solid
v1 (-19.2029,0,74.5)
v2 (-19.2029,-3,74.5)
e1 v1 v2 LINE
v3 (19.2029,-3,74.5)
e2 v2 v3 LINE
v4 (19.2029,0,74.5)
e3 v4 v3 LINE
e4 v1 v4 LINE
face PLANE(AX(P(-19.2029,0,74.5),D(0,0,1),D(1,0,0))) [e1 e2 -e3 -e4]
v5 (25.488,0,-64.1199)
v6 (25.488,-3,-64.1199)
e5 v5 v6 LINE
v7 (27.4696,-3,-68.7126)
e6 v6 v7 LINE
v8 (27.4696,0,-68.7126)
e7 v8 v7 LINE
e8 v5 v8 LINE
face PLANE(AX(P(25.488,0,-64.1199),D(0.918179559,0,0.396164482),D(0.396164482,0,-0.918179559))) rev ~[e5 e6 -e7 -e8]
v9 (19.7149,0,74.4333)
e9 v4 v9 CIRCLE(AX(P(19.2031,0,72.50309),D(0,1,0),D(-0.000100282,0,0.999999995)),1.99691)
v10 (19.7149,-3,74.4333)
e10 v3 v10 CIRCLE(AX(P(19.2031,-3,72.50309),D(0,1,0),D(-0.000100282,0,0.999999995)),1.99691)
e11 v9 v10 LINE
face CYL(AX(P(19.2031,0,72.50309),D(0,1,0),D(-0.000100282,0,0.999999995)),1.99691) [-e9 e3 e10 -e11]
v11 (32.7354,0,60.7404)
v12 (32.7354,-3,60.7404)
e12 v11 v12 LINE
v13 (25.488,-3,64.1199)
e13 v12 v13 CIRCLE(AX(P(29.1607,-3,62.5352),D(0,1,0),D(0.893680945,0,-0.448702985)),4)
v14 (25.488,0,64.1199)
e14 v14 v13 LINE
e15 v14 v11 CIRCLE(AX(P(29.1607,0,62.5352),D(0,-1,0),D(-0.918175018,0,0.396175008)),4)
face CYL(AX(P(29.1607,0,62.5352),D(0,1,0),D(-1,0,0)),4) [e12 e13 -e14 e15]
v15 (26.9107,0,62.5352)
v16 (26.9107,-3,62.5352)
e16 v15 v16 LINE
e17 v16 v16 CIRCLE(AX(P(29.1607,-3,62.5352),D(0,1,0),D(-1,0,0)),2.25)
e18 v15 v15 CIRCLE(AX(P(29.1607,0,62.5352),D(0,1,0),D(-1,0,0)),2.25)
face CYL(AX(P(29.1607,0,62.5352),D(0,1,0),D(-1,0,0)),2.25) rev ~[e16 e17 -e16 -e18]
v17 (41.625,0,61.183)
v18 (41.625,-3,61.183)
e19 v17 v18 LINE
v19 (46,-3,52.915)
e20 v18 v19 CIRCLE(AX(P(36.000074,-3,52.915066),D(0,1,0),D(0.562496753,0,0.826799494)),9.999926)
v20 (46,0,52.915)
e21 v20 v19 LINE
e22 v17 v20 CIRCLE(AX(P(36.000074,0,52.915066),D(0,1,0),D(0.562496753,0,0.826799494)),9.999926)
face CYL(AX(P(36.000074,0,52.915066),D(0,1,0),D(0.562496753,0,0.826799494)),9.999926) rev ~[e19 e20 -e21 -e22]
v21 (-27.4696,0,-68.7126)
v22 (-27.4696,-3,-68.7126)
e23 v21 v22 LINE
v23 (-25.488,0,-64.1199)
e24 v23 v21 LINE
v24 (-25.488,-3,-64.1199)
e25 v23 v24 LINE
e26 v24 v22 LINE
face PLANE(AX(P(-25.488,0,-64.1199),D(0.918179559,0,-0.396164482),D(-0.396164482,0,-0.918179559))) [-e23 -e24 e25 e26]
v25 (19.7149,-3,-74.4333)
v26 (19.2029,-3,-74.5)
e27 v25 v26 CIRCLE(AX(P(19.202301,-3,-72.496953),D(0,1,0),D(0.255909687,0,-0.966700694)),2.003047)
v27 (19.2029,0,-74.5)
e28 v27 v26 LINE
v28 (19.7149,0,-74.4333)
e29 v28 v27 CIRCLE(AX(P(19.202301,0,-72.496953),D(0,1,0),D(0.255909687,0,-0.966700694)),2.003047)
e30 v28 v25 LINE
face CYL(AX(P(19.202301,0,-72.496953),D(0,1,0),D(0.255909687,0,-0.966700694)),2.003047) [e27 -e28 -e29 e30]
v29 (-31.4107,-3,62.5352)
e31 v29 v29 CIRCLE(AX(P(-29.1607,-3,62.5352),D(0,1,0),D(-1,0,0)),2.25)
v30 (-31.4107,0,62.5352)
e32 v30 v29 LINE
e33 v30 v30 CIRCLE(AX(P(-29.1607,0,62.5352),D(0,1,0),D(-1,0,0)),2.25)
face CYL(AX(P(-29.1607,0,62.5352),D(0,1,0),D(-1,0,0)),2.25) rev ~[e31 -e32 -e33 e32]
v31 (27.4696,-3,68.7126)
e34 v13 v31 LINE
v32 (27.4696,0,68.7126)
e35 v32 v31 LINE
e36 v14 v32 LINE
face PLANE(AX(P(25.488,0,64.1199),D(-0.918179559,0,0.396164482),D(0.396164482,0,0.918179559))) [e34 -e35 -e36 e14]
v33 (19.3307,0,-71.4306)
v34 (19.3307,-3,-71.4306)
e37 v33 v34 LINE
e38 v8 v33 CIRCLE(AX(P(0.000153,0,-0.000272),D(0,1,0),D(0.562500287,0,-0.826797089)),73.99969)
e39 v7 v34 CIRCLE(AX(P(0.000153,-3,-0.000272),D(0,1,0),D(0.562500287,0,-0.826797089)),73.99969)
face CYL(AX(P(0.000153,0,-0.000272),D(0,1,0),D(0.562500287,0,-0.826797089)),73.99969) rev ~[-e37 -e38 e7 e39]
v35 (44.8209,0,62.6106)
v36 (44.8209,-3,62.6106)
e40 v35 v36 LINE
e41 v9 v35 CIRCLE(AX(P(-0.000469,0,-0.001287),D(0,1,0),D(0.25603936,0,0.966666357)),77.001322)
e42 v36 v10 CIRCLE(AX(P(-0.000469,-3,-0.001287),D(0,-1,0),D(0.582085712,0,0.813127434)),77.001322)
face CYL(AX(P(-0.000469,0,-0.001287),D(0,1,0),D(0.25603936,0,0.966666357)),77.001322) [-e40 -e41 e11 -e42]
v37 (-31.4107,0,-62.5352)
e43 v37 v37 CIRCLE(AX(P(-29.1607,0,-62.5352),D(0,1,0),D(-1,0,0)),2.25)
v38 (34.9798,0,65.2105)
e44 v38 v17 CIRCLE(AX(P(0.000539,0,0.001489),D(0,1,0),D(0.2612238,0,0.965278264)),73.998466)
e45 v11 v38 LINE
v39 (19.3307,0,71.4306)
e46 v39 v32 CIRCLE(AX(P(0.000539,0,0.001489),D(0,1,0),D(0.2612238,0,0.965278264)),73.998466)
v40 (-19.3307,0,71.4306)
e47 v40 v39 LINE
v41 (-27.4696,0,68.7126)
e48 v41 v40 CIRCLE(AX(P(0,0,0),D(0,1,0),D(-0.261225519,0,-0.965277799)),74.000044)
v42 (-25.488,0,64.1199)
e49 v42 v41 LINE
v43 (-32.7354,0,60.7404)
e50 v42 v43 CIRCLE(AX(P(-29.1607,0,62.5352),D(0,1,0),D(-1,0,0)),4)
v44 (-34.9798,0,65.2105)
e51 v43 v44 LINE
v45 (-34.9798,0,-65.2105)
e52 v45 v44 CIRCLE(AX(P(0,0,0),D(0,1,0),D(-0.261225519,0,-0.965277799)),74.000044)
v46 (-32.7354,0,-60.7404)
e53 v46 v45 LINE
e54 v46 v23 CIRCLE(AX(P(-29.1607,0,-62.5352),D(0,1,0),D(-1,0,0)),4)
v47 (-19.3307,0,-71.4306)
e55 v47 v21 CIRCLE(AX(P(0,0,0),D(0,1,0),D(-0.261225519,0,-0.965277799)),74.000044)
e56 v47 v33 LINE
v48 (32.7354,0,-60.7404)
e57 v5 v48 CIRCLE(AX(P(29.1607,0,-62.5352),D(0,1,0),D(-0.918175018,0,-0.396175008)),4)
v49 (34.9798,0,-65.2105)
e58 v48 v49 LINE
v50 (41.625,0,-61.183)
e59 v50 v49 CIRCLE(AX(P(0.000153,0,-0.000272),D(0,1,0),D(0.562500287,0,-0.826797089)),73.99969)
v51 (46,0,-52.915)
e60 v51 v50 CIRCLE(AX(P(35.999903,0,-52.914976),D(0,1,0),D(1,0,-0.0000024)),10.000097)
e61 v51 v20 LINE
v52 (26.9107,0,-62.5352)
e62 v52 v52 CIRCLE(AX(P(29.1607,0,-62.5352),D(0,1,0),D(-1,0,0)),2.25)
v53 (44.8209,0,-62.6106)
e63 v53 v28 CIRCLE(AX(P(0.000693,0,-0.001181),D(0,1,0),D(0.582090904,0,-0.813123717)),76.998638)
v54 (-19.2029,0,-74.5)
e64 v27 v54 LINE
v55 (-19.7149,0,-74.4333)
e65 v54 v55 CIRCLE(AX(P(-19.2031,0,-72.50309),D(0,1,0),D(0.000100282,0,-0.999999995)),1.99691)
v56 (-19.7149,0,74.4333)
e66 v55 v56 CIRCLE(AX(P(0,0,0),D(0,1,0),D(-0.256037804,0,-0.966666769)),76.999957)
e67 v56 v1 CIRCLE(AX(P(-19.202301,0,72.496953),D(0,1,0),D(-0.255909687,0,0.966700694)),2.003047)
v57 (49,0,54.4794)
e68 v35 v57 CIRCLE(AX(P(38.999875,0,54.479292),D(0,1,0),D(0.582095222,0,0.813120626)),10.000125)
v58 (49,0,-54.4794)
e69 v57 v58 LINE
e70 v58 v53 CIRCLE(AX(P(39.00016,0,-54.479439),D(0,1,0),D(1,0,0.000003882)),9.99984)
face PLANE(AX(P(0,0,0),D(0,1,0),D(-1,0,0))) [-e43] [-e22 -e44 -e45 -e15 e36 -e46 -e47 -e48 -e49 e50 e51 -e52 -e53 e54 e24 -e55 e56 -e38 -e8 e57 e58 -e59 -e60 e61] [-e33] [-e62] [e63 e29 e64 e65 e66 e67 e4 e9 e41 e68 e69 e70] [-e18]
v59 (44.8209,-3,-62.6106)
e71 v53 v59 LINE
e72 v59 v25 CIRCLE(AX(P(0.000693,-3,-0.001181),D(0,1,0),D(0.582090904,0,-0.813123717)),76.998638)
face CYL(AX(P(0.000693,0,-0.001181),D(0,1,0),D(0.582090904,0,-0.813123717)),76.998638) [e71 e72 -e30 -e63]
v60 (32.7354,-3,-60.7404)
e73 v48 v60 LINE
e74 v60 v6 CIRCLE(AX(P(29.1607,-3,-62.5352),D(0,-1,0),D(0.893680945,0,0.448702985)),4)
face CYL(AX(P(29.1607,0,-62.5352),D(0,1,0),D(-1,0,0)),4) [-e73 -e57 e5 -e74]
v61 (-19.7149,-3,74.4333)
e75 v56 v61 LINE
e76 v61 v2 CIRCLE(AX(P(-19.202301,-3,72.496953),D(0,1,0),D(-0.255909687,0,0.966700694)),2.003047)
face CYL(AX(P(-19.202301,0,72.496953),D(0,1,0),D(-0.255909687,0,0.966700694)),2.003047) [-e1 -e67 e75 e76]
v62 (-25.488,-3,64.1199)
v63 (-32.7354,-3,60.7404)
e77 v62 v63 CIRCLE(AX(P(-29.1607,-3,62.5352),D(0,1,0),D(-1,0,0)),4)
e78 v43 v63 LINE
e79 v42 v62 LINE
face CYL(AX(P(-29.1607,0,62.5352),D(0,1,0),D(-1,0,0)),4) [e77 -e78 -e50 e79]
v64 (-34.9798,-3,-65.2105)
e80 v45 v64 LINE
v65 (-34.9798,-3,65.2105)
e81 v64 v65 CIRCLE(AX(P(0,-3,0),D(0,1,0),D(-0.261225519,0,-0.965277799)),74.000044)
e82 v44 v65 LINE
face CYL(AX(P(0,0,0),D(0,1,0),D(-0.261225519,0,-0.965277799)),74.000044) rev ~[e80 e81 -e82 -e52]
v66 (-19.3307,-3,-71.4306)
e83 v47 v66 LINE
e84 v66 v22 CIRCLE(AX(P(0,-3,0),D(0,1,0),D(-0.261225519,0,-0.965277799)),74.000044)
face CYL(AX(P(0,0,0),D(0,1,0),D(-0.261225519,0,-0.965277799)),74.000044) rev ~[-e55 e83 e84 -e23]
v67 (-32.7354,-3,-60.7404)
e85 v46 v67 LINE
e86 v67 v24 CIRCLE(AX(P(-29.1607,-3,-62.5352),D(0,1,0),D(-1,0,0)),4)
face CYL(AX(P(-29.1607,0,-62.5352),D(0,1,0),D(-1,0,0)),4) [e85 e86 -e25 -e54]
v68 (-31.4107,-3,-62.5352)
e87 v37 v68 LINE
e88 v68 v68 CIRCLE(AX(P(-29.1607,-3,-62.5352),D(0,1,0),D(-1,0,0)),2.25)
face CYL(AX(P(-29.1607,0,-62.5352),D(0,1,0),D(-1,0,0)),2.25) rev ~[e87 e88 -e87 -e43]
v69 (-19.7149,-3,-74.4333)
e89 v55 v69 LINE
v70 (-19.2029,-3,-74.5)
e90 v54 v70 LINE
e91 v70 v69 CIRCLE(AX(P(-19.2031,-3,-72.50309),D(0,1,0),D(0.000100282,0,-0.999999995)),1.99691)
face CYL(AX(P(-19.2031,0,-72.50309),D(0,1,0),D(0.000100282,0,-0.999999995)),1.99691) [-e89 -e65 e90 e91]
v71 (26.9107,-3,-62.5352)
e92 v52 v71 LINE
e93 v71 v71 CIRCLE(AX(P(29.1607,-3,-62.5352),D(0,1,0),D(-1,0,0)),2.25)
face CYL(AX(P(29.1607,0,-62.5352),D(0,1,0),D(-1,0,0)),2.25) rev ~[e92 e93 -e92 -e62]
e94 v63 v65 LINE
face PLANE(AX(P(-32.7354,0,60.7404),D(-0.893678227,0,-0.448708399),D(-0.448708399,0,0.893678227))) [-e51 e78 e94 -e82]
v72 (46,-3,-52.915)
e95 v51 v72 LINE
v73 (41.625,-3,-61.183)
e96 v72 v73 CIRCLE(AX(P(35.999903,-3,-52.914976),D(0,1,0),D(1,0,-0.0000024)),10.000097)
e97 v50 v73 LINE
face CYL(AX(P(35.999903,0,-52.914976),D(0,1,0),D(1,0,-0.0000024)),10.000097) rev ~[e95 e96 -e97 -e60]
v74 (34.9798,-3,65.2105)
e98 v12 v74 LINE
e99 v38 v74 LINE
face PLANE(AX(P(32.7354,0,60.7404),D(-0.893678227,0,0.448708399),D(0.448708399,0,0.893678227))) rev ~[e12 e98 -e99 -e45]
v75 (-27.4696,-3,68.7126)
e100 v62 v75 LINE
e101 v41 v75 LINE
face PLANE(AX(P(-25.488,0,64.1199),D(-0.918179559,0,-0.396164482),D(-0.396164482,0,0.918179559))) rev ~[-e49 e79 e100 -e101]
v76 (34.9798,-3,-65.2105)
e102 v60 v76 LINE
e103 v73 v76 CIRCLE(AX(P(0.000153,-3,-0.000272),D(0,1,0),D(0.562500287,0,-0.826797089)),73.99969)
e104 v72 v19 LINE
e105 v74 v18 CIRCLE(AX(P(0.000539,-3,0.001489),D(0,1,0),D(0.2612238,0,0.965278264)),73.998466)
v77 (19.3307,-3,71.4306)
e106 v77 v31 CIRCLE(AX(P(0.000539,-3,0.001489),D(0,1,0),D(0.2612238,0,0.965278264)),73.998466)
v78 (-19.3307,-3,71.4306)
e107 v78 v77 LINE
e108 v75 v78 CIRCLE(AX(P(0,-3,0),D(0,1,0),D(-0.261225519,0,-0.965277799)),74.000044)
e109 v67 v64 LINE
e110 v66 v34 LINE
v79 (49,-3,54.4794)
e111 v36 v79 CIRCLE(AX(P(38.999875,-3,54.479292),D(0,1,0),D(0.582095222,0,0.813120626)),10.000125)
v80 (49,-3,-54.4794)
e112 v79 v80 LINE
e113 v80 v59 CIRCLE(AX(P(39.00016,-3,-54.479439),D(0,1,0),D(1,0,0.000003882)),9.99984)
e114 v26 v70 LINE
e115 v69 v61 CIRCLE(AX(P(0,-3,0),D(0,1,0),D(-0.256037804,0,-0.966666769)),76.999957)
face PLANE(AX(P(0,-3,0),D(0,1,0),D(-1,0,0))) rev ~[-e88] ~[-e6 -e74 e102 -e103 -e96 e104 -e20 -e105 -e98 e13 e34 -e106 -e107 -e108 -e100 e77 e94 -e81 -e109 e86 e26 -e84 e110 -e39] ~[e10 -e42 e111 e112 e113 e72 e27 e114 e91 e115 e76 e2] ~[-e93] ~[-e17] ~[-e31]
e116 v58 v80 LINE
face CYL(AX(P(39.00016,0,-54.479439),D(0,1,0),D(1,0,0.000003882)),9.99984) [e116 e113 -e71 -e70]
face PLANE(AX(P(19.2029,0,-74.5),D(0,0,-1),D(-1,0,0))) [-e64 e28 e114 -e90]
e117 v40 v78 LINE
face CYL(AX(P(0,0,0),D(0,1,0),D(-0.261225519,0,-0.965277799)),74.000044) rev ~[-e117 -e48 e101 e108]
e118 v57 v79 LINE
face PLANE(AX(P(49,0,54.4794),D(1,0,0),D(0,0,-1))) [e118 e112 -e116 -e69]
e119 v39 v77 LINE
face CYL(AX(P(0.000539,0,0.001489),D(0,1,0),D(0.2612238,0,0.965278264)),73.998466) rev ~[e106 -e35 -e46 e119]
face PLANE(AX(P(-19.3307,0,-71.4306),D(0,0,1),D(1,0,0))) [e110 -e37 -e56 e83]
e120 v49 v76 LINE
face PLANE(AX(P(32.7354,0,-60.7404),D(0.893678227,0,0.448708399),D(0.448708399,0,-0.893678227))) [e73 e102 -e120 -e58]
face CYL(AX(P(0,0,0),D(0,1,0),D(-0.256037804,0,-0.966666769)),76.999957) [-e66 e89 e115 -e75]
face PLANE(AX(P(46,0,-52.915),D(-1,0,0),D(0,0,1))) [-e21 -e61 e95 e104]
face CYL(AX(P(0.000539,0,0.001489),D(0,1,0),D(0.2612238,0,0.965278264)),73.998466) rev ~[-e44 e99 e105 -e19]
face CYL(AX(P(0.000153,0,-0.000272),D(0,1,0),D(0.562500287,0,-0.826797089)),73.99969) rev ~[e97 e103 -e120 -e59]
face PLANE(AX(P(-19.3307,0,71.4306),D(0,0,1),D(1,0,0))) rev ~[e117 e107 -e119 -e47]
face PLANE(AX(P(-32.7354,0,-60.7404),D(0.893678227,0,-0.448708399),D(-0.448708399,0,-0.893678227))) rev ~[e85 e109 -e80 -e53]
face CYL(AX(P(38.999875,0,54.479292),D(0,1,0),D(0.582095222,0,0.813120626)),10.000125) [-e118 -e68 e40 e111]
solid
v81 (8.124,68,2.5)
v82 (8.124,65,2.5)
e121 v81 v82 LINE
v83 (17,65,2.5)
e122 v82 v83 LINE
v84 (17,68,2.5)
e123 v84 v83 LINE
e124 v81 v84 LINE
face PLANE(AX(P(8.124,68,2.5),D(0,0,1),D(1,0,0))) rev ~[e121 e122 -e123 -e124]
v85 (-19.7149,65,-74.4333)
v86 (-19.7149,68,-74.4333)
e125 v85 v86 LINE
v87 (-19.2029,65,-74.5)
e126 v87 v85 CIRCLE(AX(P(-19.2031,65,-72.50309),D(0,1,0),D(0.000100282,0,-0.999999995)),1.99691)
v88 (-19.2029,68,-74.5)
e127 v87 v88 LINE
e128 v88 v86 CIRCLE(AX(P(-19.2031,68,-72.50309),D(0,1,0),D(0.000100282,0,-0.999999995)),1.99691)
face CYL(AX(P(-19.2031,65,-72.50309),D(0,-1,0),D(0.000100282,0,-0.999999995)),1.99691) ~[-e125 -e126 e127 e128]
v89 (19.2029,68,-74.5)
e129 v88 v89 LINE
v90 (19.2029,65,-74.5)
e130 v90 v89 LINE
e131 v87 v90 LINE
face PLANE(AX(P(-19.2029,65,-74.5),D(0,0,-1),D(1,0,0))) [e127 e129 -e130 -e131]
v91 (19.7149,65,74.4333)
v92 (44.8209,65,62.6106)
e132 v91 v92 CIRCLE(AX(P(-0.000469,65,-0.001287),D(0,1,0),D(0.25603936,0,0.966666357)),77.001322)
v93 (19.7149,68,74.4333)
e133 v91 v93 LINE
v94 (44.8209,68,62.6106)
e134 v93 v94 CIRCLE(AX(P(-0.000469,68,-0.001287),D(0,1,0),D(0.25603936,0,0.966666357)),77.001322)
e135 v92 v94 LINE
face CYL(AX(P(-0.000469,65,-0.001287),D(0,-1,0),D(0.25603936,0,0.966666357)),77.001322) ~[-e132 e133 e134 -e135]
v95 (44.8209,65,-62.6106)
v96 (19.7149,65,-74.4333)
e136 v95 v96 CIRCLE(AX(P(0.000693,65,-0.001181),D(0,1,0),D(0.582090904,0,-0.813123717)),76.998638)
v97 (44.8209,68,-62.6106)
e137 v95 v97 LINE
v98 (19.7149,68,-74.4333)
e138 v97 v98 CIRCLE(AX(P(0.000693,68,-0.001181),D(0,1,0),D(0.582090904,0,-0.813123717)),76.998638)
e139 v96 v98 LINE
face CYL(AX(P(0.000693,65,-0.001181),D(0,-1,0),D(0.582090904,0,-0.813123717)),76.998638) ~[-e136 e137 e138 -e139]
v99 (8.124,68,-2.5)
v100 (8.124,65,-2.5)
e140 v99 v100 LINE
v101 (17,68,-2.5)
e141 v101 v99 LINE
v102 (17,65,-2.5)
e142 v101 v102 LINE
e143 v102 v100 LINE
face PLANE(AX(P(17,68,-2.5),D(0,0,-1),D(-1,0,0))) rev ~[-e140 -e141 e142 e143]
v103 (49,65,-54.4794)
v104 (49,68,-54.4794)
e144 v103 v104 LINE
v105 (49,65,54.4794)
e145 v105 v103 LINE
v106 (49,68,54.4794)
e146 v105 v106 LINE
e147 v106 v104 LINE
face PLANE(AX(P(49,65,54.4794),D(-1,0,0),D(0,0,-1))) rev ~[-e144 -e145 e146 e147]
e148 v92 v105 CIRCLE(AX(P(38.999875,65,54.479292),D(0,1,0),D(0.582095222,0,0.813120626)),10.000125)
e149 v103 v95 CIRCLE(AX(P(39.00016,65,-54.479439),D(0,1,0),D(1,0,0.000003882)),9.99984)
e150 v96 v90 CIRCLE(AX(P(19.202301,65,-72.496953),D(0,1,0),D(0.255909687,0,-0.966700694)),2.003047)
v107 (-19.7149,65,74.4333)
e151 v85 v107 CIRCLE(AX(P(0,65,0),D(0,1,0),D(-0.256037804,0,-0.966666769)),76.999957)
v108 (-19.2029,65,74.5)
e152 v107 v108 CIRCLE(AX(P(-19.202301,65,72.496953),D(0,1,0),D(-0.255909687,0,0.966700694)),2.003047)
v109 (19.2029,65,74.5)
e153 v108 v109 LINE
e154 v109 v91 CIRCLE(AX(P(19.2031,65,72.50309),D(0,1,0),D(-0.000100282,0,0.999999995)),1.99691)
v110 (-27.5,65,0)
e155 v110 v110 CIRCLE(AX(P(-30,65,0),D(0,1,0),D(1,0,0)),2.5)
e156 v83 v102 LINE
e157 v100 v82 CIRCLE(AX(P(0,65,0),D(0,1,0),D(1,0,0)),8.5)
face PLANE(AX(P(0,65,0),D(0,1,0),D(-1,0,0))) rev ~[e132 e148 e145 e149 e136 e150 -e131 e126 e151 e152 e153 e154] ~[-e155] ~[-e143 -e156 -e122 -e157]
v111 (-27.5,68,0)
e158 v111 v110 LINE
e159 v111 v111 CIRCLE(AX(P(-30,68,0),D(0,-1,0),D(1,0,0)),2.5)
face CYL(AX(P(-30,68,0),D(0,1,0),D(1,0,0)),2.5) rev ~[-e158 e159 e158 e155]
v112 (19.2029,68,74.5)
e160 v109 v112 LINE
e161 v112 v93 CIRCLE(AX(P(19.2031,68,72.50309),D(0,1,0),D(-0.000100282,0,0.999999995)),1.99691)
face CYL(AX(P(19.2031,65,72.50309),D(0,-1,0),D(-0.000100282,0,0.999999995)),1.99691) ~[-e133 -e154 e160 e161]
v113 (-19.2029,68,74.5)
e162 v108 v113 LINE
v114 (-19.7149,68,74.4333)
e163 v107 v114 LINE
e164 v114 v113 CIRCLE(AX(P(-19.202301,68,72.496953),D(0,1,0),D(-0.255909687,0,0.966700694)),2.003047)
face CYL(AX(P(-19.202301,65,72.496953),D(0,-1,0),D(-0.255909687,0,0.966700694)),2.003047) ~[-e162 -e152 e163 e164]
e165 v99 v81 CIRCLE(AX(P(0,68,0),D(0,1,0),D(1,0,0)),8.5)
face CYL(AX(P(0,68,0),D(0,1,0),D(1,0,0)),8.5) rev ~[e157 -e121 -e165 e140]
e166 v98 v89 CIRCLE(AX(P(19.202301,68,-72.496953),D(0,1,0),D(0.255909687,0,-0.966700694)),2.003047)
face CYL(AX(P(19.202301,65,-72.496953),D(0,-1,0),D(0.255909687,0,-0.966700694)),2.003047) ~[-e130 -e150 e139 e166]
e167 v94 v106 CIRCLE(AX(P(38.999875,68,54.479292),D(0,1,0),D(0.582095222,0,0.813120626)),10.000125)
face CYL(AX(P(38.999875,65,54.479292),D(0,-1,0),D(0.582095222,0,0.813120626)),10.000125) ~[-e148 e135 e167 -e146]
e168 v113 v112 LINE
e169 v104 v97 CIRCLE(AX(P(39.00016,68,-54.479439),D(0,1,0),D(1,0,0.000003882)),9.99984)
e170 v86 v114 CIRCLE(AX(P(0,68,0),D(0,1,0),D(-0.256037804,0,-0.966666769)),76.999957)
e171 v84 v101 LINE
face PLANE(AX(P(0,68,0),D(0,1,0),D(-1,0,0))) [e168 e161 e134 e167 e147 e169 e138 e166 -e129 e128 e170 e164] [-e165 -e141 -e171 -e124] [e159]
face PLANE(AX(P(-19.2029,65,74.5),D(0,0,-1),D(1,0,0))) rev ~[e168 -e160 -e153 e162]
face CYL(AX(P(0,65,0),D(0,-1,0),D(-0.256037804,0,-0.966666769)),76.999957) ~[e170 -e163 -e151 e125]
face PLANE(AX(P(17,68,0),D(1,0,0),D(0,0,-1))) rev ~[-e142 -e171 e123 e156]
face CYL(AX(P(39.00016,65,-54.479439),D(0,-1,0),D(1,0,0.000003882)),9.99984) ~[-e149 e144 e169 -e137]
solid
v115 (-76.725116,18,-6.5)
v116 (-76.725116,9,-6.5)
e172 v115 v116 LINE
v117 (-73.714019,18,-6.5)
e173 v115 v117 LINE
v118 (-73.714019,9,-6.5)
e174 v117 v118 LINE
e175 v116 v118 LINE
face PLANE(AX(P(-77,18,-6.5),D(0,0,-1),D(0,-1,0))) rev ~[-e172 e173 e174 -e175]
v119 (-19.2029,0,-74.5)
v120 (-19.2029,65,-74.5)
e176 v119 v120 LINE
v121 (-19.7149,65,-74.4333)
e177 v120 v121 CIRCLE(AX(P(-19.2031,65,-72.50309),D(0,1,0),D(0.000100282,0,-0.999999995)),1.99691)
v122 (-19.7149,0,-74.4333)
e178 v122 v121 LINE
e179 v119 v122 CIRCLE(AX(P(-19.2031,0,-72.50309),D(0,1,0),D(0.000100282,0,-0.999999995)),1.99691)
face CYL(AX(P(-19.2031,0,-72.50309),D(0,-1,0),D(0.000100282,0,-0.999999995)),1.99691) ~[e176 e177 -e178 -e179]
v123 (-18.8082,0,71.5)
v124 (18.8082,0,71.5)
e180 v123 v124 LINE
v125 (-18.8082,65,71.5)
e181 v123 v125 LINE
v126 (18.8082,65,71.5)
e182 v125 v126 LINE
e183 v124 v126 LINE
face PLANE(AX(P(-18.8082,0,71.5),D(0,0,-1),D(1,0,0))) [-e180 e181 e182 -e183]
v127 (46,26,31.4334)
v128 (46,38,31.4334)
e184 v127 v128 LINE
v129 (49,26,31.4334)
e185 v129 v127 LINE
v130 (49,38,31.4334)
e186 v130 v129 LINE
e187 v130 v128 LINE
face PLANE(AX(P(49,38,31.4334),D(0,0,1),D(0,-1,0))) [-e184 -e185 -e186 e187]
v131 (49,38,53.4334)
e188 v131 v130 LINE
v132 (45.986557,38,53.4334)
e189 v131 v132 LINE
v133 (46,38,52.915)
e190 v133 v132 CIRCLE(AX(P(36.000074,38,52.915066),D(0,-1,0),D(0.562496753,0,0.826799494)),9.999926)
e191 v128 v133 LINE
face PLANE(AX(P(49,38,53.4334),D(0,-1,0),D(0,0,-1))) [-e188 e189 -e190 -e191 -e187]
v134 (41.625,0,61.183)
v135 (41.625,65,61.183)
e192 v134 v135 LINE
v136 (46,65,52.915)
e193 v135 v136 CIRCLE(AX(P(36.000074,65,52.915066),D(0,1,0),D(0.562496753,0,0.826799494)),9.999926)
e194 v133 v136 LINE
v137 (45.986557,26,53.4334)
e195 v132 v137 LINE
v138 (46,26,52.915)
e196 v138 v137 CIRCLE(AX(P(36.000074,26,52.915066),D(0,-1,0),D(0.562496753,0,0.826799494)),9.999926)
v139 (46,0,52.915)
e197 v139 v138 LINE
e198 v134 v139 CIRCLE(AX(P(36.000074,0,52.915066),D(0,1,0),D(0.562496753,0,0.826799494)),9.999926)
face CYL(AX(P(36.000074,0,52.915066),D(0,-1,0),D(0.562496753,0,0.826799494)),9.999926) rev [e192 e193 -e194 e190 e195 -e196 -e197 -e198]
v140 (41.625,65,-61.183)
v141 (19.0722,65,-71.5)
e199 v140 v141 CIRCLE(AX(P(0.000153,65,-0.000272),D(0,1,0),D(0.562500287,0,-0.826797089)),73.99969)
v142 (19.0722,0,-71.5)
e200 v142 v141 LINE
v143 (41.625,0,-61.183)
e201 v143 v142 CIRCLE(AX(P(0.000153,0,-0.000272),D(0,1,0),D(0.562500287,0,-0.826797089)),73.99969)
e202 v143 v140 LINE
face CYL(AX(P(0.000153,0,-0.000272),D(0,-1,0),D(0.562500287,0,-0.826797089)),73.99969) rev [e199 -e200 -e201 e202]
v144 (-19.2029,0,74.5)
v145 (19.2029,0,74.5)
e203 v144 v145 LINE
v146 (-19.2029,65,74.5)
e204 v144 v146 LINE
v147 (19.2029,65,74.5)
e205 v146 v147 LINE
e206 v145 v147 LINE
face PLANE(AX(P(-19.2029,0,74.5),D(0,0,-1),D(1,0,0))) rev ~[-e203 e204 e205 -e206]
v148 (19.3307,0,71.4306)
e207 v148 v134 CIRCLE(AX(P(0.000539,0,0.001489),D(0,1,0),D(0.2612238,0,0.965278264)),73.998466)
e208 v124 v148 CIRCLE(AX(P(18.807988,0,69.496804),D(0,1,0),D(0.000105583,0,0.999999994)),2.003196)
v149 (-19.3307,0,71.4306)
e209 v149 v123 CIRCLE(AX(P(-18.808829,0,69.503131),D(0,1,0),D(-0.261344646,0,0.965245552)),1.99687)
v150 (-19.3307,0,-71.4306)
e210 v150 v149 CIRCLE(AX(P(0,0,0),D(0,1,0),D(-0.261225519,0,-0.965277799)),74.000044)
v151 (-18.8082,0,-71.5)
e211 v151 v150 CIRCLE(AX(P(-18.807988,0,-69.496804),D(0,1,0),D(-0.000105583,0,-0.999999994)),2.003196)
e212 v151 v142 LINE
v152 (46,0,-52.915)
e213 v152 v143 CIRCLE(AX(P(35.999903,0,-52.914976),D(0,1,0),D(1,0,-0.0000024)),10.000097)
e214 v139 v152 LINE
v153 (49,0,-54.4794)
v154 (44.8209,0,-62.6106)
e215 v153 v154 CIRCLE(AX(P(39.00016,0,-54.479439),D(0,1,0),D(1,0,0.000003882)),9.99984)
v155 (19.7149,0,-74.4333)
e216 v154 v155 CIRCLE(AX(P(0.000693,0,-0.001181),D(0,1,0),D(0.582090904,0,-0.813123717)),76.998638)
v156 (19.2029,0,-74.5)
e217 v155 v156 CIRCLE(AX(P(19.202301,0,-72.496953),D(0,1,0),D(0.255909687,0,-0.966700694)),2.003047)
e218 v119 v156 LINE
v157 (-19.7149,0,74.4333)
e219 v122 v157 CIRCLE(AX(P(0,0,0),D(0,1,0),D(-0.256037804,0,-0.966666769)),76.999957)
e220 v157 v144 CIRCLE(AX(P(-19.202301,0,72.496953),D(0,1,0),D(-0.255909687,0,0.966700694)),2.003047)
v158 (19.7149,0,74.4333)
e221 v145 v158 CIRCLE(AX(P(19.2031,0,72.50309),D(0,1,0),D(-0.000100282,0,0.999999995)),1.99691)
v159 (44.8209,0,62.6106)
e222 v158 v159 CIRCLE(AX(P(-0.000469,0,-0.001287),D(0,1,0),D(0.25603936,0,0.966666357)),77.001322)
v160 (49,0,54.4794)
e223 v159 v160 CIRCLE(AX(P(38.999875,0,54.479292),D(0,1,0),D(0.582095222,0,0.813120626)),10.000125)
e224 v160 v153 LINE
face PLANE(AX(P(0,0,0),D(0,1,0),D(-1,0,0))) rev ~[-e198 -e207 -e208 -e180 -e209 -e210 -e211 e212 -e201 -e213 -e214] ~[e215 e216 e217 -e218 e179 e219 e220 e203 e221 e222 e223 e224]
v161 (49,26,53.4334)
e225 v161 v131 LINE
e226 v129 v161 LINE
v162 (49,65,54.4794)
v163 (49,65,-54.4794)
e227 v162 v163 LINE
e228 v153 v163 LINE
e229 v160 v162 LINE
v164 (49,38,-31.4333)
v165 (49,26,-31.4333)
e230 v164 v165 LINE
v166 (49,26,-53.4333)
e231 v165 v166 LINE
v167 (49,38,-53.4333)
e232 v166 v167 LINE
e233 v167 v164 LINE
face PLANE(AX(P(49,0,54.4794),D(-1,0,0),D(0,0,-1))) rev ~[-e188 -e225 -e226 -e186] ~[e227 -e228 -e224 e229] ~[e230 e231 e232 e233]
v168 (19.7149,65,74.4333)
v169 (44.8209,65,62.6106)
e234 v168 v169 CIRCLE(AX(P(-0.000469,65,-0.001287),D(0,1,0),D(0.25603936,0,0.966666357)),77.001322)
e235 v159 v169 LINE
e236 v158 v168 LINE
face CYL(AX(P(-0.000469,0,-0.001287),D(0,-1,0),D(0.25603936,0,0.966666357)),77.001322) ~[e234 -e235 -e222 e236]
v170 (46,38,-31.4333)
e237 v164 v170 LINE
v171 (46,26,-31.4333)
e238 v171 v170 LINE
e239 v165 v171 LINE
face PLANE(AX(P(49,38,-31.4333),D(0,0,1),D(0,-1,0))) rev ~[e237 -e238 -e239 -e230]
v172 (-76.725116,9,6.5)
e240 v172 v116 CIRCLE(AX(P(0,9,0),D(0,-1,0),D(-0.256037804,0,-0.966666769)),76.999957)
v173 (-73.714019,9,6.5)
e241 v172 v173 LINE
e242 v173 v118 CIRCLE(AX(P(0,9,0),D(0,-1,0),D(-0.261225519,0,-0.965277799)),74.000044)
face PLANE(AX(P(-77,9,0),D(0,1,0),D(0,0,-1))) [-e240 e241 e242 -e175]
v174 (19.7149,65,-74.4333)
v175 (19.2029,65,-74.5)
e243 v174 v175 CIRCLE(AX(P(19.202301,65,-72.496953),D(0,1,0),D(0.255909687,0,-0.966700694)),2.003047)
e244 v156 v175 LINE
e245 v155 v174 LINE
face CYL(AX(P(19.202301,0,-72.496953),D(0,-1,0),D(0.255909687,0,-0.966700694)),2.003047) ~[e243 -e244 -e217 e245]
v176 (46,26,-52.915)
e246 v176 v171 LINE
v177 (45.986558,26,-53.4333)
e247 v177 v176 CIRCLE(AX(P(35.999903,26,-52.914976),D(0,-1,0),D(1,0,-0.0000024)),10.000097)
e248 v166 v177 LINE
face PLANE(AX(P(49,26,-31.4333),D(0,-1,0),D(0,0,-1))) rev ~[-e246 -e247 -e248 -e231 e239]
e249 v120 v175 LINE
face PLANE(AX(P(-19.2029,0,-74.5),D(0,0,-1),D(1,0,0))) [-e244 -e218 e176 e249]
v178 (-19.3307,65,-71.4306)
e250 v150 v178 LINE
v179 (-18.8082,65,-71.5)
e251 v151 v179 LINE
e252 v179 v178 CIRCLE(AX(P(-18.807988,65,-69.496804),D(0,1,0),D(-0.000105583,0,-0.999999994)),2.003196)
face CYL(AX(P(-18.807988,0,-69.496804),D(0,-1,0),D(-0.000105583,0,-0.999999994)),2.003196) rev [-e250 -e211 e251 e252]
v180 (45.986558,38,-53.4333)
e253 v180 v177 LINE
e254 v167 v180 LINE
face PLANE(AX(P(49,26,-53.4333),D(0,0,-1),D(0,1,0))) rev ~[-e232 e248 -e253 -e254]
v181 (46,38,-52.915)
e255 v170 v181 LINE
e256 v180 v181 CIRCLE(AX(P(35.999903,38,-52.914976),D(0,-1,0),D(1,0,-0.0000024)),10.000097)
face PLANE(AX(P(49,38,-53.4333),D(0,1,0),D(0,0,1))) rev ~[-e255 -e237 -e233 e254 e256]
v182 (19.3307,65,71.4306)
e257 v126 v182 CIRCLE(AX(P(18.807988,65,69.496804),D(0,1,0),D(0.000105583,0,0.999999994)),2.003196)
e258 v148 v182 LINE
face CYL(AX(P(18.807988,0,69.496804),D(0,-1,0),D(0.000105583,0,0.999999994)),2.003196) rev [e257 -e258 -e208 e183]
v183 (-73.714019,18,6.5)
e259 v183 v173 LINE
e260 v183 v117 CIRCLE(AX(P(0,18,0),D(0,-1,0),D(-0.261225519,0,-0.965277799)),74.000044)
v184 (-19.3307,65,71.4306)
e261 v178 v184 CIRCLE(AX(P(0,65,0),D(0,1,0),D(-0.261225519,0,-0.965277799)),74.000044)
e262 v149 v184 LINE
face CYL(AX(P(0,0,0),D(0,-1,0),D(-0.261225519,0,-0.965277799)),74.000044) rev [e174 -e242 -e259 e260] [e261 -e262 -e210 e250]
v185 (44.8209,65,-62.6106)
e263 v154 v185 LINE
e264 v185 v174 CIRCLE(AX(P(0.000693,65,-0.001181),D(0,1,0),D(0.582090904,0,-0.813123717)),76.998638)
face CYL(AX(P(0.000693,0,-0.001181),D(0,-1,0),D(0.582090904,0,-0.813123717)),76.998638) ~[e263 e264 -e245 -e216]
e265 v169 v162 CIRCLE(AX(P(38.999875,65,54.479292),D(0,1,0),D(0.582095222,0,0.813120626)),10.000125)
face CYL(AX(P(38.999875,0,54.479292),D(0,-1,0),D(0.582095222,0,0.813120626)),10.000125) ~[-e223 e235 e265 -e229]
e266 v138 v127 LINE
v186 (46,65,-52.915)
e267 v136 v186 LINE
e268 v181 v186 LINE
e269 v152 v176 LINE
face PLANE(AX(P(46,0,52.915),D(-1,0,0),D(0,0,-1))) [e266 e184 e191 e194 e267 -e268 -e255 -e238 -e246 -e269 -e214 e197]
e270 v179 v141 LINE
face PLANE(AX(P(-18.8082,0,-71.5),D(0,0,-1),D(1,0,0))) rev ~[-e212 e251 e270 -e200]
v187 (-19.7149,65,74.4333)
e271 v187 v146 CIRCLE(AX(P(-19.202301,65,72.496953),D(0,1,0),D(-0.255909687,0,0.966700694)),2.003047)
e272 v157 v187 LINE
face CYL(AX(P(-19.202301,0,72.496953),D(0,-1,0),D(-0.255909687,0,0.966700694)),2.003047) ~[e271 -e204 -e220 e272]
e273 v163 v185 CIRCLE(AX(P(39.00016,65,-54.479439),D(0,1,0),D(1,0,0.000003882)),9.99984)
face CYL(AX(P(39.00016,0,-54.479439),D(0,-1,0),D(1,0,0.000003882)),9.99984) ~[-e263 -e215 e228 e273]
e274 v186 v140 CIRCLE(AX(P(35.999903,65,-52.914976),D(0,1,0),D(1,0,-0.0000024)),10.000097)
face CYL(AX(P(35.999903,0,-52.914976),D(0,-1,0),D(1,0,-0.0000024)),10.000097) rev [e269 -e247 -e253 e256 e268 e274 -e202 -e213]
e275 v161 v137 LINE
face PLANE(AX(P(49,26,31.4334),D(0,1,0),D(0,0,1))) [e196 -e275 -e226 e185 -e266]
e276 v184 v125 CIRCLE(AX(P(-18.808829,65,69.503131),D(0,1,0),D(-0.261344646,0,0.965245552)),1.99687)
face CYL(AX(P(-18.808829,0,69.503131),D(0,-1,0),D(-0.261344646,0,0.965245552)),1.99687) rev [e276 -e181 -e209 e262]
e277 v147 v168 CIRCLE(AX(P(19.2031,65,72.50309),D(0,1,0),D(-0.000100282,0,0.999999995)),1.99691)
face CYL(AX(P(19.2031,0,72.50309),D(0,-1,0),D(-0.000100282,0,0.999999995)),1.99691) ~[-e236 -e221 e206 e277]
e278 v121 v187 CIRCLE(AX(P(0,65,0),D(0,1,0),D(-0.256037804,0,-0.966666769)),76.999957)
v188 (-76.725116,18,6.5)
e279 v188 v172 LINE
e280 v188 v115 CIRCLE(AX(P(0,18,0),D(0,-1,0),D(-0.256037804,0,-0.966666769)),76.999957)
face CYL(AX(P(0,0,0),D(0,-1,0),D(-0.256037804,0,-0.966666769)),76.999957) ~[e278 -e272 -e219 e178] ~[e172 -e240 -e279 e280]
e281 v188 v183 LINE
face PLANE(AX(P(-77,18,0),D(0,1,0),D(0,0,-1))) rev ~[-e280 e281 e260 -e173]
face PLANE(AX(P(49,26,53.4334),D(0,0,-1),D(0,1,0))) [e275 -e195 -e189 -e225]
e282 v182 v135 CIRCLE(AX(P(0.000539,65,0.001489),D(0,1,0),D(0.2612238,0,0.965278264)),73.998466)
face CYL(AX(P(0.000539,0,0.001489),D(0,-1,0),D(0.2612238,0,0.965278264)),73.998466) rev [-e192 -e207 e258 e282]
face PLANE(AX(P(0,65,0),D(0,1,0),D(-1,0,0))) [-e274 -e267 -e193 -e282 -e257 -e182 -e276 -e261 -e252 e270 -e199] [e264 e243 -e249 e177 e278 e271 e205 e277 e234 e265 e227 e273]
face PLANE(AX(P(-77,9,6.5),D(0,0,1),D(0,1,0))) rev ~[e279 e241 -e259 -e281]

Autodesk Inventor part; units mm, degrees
ref_plane "YZ Plane" through (0, 0, 0) normal (1, 0, 0) x (0, 1, 0)
ref_plane "XZ Plane" through (0, 0, 0) normal (0, 1, 0) x (-1, 0, 0)
sketch "Sketch1" plane through (0, 0, 0) normal (0, 1, 0) x (-1, 0, 0)
  line L0 (18.8082, 71.5) -> (-18.8082, 71.5)
  line L1 (0, 0) -> (-49, 0) construction
  line L2 (19.2029, 74.5) -> (-19.2029, 74.5)
  line L3 (18.8082, -71.5) -> (-19.0722, -71.5)
  line L4 (19.2029, -74.5) -> (-19.2029, -74.5)
  line L5 (0, 0) -> (0, 74.5) construction
  line L6 (-46, 52.915) -> (-46, -52.915)
  line L7 (-49, 54.4794) -> (-49, -54.4794)
  arc A0 (-41.625, -61.183) -> (-19.0722, -71.5) centre (0, 0) ccw
  arc A1 (-44.8209, -62.6106) -> (-19.7149, -74.4333) centre (0, 0) ccw
  arc A2 (19.7149, -74.4333) -> (19.7149, 74.4333) centre (0, 0) ccw
  arc A3 (-19.7149, 74.4333) -> (-44.8209, 62.6106) centre (0, 0) ccw
  arc A4 (19.3307, -71.4306) -> (19.3307, 71.4306) centre (0, 0) ccw
  arc A5 (-19.3307, 71.4306) -> (-41.625, 61.183) centre (0, 0) ccw
  arc A6 (-19.7149, -74.4333) -> (-19.2029, -74.5) centre (-19.2029, -72.5) ccw
  arc A7 (19.2029, -74.5) -> (19.7149, -74.4333) centre (19.2029, -72.5) ccw
  arc A8 (18.8082, -71.5) -> (19.3307, -71.4306) centre (18.8082, -69.5) ccw
  arc A9 (19.3307, 71.4306) -> (18.8082, 71.5) centre (18.8082, 69.5) ccw
  arc A10 (19.7149, 74.4333) -> (19.2029, 74.5) centre (19.2029, 72.5) ccw
  arc A11 (-18.8082, 71.5) -> (-19.3307, 71.4306) centre (-18.8082, 69.5) ccw
  arc A12 (-19.2029, 74.5) -> (-19.7149, 74.4333) centre (-19.2029, 72.5) ccw
  arc A13 (-41.625, 61.183) -> (-46, 52.915) centre (-36, 52.915) ccw
  arc A14 (-44.8209, 62.6106) -> (-49, 54.4794) centre (-39, 54.4794) ccw
  arc A15 (-49, -54.4794) -> (-44.8209, -62.6106) centre (-39, -54.4794) ccw
  arc A16 (-46, -52.915) -> (-41.625, -61.183) centre (-36, -52.915) ccw
  point P0 (-19.4615, 74.5)
  point P1 (19.0722, -71.5)
  point P2 (19.4615, -74.5)
  point P3 (-19.4615, -74.5)
  point P4 (-49, -59.397)
  point P5 (-46, 57.9655)
  point P6 (-46, -57.9655)
  point P7 (-49, 59.397)
  point P8 (19.4615, 74.5)
  point P9 (19.0722, 71.5)
  point P10 (-19.0722, 71.5)
  dimension "d2" = 71.5
  dimension "d4" = 3
  dimension "d6" = 46
  dimension "d7" = 3
  dimension "d8" = 2
  dimension "d9" = 10
  dimension "d10" = 74
  dimension "d11" = 77
  dimension "d12" = 74
  dimension "d13" = 77
extrude "Extrusion1" add sketch "Sketch1" along normal blind 65
sketch "Sketch2" plane through (49, 0, 54.4794) normal (1, 0, 0) x (0, 0, -1)
  line L0 (54.4794, 0) -> (54.4794, 65) construction
  line L1 (107.3944, 65) -> (1.5643, 65) projected
  line L2 (1.046, 38) -> (23.046, 38)
  line L3 (23.046, 38) -> (23.046, 26)
  line L4 (23.046, 26) -> (1.046, 26)
  line L5 (0, 0) -> (108.9587, 0) projected
  line L6 (-19.954, 0) -> (-19.954, 65) projected
  line L7 (23.046, 26) -> (1.046, 26)
  line L8 (1.046, 26) -> (1.046, 38)
  line L9 (107.9127, 38) -> (85.9127, 38)
  line L10 (85.9127, 38) -> (85.9127, 26)
  line L11 (85.9127, 26) -> (107.9127, 26)
  line L12 (107.9127, 26) -> (107.9127, 38)
  point P0 (1.046, 32)
  dimension "d16" = 26
  dimension "d235" = 22
  dimension "d236" = 12
  dimension "d237" = 21
extrude "Extrusion2" cut sketch "Sketch2" against normal blind 13.25
sketch "Sketch3" plane through (49, 0, 54.4794) normal (1, 0, 0) x (0, 0, -1)
  line L0 (3.568, 49.2223) -> (17.7975, 43.9952) construction
  line L1 (2.8909, 47.379) -> (17.1204, 42.1519)
  line L2 (18.4746, 45.8385) -> (4.2452, 51.0656)
  arc A0 (4.2452, 51.0656) -> (2.8909, 47.379) centre (3.568, 49.2223) ccw
  arc A1 (17.1204, 42.1519) -> (18.4746, 45.8385) centre (17.7975, 43.9952) ccw
  arc A2 (44.4296, 11.624) -> (34.6921, 2.9774) centre (43.8866, 2.4292) ccw construction
  arc A3 (44.531, 13.3402) -> (32.9759, 3.0797) centre (43.8866, 2.4292) ccw
  arc A4 (44.3283, 9.9077) -> (36.4083, 2.8751) centre (43.8866, 2.4292) ccw
  arc A5 (44.3283, 9.9077) -> (44.531, 13.3402) centre (44.4296, 11.624) ccw
  arc A6 (32.9759, 3.0797) -> (36.4083, 2.8751) centre (34.6921, 2.9774) ccw
  line L3 (54.4794, 0) -> (54.4794, 65) construction
  line L4 (106.0678, 47.379) -> (91.8383, 42.1519)
  line L5 (90.4841, 45.8385) -> (104.7135, 51.0656)
  arc A7 (106.0678, 47.379) -> (104.7135, 51.0656) centre (105.3907, 49.2223) ccw
  arc A8 (90.4841, 45.8385) -> (91.8383, 42.1519) centre (91.1612, 43.9952) ccw
  point P0 (10.6828, 46.6088)
extrude "Extrusion3" [suppressed]
extrude "Extrusion4" add sketch "Sketch1" along normal blind 3 from surface at 65 separate body contours A9 A4 A8 L3 A0 A16 L6 A13 A5 A11 L0 | A10 A2 A7 L4 A6 A1 A15 L7 A14 A3 A12 L2
sketch "Sketch5" plane through (-19.2029, 68, 74.5) normal (0, 1, 0) x (1, 0, 0)
  circle A0 centre (19.2029, 74.5) radius 8.5
  circle A1 centre (-10.7971, 74.5) radius 2.5
  line L0 (27.3269, 72) -> (36.2029, 72)
  line L1 (36.2029, 72) -> (36.2029, 77)
  line L2 (36.2029, 77) -> (27.3269, 77)
  line L3 (36.2029, 74.5) -> (68.2029, 74.5)
  line L4 (68.2029, 20.0206) -> (68.2029, 128.9794) projected
  line L5 (-10.7971, 74.5) -> (-57.7971, 74.5)
  arc A2 (-0.5121, 148.9333) -> (-0.5121, 0.0667) centre (19.2029, 74.5) ccw projected
  dimension "d26" = 17
  dimension "d27" = 5
  dimension "d31" = 5
  dimension "d32" = 17
  dimension "d47" = 30
  dimension "d204" = 32
  dimension "d205" = 47
  dimension "d206" = 49
extrude "Extrusion5" cut sketch "Sketch5" against normal through all
sketch "Sketch6" plane through (0, 0, 0) normal (0, 1, 0) x (-1, 0, 0)
  circle A0 centre (0, 0) radius 69 construction
  arc A1 (-19.3307, 71.4306) -> (-41.625, 61.183) centre (0, 0) ccw projected
  arc A2 (-41.625, 61.183) -> (-46, 52.915) centre (-36, 52.915) ccw projected
  line L0 (-46, -52.915) -> (-46, 52.915) projected
  arc A3 (-46, -52.915) -> (-41.625, -61.183) centre (-36, -52.915) ccw projected
  arc A4 (-41.625, -61.183) -> (-19.0722, -71.5) centre (0, 0) ccw projected
  line L1 (18.8082, -71.5) -> (-19.0722, -71.5) construction
  arc A5 (19.3307, -71.4306) -> (19.3307, 71.4306) centre (0, 0) ccw projected
  line L2 (-18.8082, 71.5) -> (18.8082, 71.5) construction
  line L3 (19.2029, 74.5) -> (-19.2029, 74.5) projected
  arc A6 (-19.7149, 74.4333) -> (-44.8209, 62.6106) centre (0, 0) ccw projected
  arc A7 (-44.8209, 62.6106) -> (-49, 54.4794) centre (-39, 54.4794) ccw projected
  line L4 (-49, 54.4794) -> (-49, -54.4794) projected
  arc A8 (-49, -54.4794) -> (-44.8209, -62.6106) centre (-39, -54.4794) ccw projected
  arc A9 (-44.8209, -62.6106) -> (-19.7149, -74.4333) centre (0, 0) ccw projected
  line L5 (-19.2029, -74.5) -> (19.2029, -74.5) projected
  arc A10 (19.7149, -74.4333) -> (19.7149, 74.4333) centre (0, 0) ccw projected
  arc A11 (-18.5383, 65.4242) -> (-38.25, 56.2222) centre (0, 0) ccw construction
  arc A12 (-38.25, 56.2222) -> (-40, 52.915) centre (-36, 52.915) ccw construction
  line L6 (-40, 52.915) -> (-40, -52.915) construction
  arc A13 (-40, -52.915) -> (-38.25, -56.2222) centre (-36, -52.915) ccw construction
  arc A14 (-38.25, -56.2222) -> (-18.5383, -65.4242) centre (0, 0) ccw construction
  line L7 (-17.9931, -65.5) -> (17.9931, -65.5) construction
  line L8 (-17.9931, 65.5) -> (17.9931, 65.5) construction
  arc A15 (18.5383, -65.4242) -> (18.5383, 65.4242) centre (0, 0) ccw construction
  arc A16 (-8.124, -2.5) -> (-8.124, 2.5) centre (0, 0) ccw projected
  line L9 (0, 0) -> (52.8571, 44.3523) construction
  line L10 (0, 0) -> (77, 0) construction
  line L11 (0, 0) -> (0, -69) construction
  circle A17 centre (29.1607, 62.5352) radius 3 construction
  line L12 (29.1607, 62.5352) -> (0, 0) construction
  circle A18 centre (-29.1607, 62.5352) radius 3 construction
  line L13 (-29.1607, 62.5352) -> (0, 0) construction
  arc A19 (-17.9931, 65.5) -> (-18.5383, 65.4242) centre (-17.9931, 63.5) ccw construction
  arc A20 (-18.5383, -65.4242) -> (-17.9931, -65.5) centre (-17.9931, -63.5) ccw construction
  arc A21 (17.9931, -65.5) -> (18.5383, -65.4242) centre (17.9931, -63.5) ccw construction
  arc A22 (18.5383, 65.4242) -> (17.9931, 65.5) centre (17.9931, 63.5) ccw construction
  arc A23 (-19.7149, -74.4333) -> (-19.2029, -74.5) centre (-19.2029, -72.5) ccw projected
  arc A24 (19.2029, -74.5) -> (19.7149, -74.4333) centre (19.2029, -72.5) ccw projected
  arc A25 (19.7149, 74.4333) -> (19.2029, 74.5) centre (19.2029, 72.5) ccw projected
  arc A26 (-19.2029, 74.5) -> (-19.7149, 74.4333) centre (-19.2029, 72.5) ccw projected
  circle A27 centre (29.1607, -62.5352) radius 3 construction
  circle A28 centre (-29.1607, -62.5352) radius 3 construction
  line L14 (19.3307, 65.1945) -> (19.3307, 71.4306)
  line L15 (-19.3307, 65.1945) -> (-19.3307, 71.4306)
  line L16 (19.3307, 71.4306) -> (-19.3307, 71.4306)
  line L17 (19.3307, -65.1945) -> (19.3307, -71.4306)
  line L18 (-19.3307, -65.1945) -> (-19.3307, -71.4306)
  line L19 (19.3307, -71.4306) -> (-19.3307, -71.4306)
  circle A29 centre (29.1607, 62.5352) radius 4
  circle A30 centre (-29.1607, 62.5352) radius 4
  line L20 (-32.7354, 60.7404) -> (-34.9798, 65.2105)
  circle A31 centre (29.1607, -62.5352) radius 4
  circle A32 centre (-29.1607, -62.5352) radius 4
  line L21 (-32.7354, -60.7404) -> (-34.9798, -65.2105)
  line L22 (32.7354, 60.7404) -> (34.9798, 65.2105)
  line L23 (32.7354, -60.7404) -> (34.9798, -65.2105)
  line L24 (-25.488, 64.1199) -> (-27.4696, 68.7126)
  line L25 (25.488, 64.1199) -> (27.4696, 68.7126)
  line L26 (-25.488, -64.1199) -> (-27.4696, -68.7126)
  line L27 (25.488, -64.1199) -> (27.4696, -68.7126)
  line L28 (-18.8082, 71.5) -> (-49, 71.5)
  line L29 (-49, 71.5) -> (-49, 54.4794)
  line L30 (-28.5788, 71.5) -> (-18.8082, 71.5)
  circle A33 centre (-29.1607, -62.5352) radius 2.25
  circle A34 centre (29.1607, -62.5352) radius 2.25
  circle A35 centre (29.1607, 62.5352) radius 2.25
  circle A36 centre (-29.1607, 62.5352) radius 2.25
  point P0 (-18.2688, -65.5)
  point P1 (-19.3307, 65.1945)
  point P2 (-19.3307, -65.1945)
  point P3 (29.1607, 62.5352)
  point P4 (26.7032, 60.8145)
  point P5 (-46, 24)
  point P6 (-46, 16)
  point P7 (-29.4221, 59.5467)
  point P8 (-19.3307, -71.4306)
  point P9 (-34.9798, -65.2105)
  point P10 (34.9798, -65.2105)
  point P11 (-27.9581, 66.3502)
  point P12 (-27.9581, -66.3502)
  point P13 (27.9581, -66.3502)
  point P14 (27.9581, 66.3502)
  point P15 (-32.8561, 64.0662)
  point P16 (32.8561, -64.0662)
  point P17 (-32.8561, -64.0662)
  point P18 (32.8561, 64.0662)
  point P19 (25.488, -64.1199)
  point P20 (27.4696, -68.7126)
  point P21 (-25.488, -64.1199)
  point P22 (34.0084, -67.0387)
  point P23 (-28.5882, -71.3052)
  point P24 (28.5882, -71.3052)
  point P25 (28.5882, 71.3052)
  point P26 (-28.5882, 71.3052)
  point P27 (34.0084, 67.0387)
  point P28 (-19.3307, -71.4306)
  point P29 (-34.0084, -67.0387)
  point P30 (-34.0084, 67.0387)
  dimension "d33" = 138
  dimension "d229" = 6
  dimension "d34" = 6
  dimension "d35" = 6
  dimension "d36" = 6
  dimension "d37" = 40
  dimension "d38" = 25
  dimension "d42" = 25
  dimension "d44" = 2
  dimension "d62" = 8
  dimension "d64" = 8
  dimension "d171" = 90
  dimension "d172" = 17.0206
  dimension "d227" = 4.5
  dimension "d228" = 4.5
  dimension "d230" = 4.5
  dimension "d231" = 4.5
extrude "Extrusion6" add sketch "Sketch6" against normal blind 3 separate body contours L24 A30 L20 A1 | A30 | A5 L22 A29 L25 | A29 | A5 L27 A31 L23 | A31 | L21 A32 L26 A4 | A32 | A25 A10 A24 L5 A23 A9 A8 L4 A7 A6 A26 L3
ref_plane "Work Plane2" through (-77, 0, 0) normal (-1, 0, 0) x (0, 0, 1)
sketch "Sketch20" plane through (-77, 0, 0) normal (-1, 0, 0) x (0, 0, 1)
  line L0 (-54.4794, -3) -> (54.4794, -3) projected
  line L1 (0, -3) -> (0, 9)
  line L2 (0, 9) -> (0, 18)
  line L3 (0, 18) -> (6.5, 18)
  line L4 (0, 9) -> (-6.5, 9)
  line L5 (-6.5, 9) -> (6.5, 9)
  line L6 (6.5, 9) -> (6.5, 18)
  line L7 (6.5, 18) -> (-6.5, 18)
  line L8 (-6.5, 18) -> (-6.5, 9)
  point P0 (0, 0)
  dimension "d215" = 12
  dimension "d216" = 9
  dimension "d217" = 6.5
  dimension "d218" = 6.5
extrude "Extrusion16" cut sketch "Sketch20" against normal blind 10.75 bodies 1
properties part number "carcasa4.0"
